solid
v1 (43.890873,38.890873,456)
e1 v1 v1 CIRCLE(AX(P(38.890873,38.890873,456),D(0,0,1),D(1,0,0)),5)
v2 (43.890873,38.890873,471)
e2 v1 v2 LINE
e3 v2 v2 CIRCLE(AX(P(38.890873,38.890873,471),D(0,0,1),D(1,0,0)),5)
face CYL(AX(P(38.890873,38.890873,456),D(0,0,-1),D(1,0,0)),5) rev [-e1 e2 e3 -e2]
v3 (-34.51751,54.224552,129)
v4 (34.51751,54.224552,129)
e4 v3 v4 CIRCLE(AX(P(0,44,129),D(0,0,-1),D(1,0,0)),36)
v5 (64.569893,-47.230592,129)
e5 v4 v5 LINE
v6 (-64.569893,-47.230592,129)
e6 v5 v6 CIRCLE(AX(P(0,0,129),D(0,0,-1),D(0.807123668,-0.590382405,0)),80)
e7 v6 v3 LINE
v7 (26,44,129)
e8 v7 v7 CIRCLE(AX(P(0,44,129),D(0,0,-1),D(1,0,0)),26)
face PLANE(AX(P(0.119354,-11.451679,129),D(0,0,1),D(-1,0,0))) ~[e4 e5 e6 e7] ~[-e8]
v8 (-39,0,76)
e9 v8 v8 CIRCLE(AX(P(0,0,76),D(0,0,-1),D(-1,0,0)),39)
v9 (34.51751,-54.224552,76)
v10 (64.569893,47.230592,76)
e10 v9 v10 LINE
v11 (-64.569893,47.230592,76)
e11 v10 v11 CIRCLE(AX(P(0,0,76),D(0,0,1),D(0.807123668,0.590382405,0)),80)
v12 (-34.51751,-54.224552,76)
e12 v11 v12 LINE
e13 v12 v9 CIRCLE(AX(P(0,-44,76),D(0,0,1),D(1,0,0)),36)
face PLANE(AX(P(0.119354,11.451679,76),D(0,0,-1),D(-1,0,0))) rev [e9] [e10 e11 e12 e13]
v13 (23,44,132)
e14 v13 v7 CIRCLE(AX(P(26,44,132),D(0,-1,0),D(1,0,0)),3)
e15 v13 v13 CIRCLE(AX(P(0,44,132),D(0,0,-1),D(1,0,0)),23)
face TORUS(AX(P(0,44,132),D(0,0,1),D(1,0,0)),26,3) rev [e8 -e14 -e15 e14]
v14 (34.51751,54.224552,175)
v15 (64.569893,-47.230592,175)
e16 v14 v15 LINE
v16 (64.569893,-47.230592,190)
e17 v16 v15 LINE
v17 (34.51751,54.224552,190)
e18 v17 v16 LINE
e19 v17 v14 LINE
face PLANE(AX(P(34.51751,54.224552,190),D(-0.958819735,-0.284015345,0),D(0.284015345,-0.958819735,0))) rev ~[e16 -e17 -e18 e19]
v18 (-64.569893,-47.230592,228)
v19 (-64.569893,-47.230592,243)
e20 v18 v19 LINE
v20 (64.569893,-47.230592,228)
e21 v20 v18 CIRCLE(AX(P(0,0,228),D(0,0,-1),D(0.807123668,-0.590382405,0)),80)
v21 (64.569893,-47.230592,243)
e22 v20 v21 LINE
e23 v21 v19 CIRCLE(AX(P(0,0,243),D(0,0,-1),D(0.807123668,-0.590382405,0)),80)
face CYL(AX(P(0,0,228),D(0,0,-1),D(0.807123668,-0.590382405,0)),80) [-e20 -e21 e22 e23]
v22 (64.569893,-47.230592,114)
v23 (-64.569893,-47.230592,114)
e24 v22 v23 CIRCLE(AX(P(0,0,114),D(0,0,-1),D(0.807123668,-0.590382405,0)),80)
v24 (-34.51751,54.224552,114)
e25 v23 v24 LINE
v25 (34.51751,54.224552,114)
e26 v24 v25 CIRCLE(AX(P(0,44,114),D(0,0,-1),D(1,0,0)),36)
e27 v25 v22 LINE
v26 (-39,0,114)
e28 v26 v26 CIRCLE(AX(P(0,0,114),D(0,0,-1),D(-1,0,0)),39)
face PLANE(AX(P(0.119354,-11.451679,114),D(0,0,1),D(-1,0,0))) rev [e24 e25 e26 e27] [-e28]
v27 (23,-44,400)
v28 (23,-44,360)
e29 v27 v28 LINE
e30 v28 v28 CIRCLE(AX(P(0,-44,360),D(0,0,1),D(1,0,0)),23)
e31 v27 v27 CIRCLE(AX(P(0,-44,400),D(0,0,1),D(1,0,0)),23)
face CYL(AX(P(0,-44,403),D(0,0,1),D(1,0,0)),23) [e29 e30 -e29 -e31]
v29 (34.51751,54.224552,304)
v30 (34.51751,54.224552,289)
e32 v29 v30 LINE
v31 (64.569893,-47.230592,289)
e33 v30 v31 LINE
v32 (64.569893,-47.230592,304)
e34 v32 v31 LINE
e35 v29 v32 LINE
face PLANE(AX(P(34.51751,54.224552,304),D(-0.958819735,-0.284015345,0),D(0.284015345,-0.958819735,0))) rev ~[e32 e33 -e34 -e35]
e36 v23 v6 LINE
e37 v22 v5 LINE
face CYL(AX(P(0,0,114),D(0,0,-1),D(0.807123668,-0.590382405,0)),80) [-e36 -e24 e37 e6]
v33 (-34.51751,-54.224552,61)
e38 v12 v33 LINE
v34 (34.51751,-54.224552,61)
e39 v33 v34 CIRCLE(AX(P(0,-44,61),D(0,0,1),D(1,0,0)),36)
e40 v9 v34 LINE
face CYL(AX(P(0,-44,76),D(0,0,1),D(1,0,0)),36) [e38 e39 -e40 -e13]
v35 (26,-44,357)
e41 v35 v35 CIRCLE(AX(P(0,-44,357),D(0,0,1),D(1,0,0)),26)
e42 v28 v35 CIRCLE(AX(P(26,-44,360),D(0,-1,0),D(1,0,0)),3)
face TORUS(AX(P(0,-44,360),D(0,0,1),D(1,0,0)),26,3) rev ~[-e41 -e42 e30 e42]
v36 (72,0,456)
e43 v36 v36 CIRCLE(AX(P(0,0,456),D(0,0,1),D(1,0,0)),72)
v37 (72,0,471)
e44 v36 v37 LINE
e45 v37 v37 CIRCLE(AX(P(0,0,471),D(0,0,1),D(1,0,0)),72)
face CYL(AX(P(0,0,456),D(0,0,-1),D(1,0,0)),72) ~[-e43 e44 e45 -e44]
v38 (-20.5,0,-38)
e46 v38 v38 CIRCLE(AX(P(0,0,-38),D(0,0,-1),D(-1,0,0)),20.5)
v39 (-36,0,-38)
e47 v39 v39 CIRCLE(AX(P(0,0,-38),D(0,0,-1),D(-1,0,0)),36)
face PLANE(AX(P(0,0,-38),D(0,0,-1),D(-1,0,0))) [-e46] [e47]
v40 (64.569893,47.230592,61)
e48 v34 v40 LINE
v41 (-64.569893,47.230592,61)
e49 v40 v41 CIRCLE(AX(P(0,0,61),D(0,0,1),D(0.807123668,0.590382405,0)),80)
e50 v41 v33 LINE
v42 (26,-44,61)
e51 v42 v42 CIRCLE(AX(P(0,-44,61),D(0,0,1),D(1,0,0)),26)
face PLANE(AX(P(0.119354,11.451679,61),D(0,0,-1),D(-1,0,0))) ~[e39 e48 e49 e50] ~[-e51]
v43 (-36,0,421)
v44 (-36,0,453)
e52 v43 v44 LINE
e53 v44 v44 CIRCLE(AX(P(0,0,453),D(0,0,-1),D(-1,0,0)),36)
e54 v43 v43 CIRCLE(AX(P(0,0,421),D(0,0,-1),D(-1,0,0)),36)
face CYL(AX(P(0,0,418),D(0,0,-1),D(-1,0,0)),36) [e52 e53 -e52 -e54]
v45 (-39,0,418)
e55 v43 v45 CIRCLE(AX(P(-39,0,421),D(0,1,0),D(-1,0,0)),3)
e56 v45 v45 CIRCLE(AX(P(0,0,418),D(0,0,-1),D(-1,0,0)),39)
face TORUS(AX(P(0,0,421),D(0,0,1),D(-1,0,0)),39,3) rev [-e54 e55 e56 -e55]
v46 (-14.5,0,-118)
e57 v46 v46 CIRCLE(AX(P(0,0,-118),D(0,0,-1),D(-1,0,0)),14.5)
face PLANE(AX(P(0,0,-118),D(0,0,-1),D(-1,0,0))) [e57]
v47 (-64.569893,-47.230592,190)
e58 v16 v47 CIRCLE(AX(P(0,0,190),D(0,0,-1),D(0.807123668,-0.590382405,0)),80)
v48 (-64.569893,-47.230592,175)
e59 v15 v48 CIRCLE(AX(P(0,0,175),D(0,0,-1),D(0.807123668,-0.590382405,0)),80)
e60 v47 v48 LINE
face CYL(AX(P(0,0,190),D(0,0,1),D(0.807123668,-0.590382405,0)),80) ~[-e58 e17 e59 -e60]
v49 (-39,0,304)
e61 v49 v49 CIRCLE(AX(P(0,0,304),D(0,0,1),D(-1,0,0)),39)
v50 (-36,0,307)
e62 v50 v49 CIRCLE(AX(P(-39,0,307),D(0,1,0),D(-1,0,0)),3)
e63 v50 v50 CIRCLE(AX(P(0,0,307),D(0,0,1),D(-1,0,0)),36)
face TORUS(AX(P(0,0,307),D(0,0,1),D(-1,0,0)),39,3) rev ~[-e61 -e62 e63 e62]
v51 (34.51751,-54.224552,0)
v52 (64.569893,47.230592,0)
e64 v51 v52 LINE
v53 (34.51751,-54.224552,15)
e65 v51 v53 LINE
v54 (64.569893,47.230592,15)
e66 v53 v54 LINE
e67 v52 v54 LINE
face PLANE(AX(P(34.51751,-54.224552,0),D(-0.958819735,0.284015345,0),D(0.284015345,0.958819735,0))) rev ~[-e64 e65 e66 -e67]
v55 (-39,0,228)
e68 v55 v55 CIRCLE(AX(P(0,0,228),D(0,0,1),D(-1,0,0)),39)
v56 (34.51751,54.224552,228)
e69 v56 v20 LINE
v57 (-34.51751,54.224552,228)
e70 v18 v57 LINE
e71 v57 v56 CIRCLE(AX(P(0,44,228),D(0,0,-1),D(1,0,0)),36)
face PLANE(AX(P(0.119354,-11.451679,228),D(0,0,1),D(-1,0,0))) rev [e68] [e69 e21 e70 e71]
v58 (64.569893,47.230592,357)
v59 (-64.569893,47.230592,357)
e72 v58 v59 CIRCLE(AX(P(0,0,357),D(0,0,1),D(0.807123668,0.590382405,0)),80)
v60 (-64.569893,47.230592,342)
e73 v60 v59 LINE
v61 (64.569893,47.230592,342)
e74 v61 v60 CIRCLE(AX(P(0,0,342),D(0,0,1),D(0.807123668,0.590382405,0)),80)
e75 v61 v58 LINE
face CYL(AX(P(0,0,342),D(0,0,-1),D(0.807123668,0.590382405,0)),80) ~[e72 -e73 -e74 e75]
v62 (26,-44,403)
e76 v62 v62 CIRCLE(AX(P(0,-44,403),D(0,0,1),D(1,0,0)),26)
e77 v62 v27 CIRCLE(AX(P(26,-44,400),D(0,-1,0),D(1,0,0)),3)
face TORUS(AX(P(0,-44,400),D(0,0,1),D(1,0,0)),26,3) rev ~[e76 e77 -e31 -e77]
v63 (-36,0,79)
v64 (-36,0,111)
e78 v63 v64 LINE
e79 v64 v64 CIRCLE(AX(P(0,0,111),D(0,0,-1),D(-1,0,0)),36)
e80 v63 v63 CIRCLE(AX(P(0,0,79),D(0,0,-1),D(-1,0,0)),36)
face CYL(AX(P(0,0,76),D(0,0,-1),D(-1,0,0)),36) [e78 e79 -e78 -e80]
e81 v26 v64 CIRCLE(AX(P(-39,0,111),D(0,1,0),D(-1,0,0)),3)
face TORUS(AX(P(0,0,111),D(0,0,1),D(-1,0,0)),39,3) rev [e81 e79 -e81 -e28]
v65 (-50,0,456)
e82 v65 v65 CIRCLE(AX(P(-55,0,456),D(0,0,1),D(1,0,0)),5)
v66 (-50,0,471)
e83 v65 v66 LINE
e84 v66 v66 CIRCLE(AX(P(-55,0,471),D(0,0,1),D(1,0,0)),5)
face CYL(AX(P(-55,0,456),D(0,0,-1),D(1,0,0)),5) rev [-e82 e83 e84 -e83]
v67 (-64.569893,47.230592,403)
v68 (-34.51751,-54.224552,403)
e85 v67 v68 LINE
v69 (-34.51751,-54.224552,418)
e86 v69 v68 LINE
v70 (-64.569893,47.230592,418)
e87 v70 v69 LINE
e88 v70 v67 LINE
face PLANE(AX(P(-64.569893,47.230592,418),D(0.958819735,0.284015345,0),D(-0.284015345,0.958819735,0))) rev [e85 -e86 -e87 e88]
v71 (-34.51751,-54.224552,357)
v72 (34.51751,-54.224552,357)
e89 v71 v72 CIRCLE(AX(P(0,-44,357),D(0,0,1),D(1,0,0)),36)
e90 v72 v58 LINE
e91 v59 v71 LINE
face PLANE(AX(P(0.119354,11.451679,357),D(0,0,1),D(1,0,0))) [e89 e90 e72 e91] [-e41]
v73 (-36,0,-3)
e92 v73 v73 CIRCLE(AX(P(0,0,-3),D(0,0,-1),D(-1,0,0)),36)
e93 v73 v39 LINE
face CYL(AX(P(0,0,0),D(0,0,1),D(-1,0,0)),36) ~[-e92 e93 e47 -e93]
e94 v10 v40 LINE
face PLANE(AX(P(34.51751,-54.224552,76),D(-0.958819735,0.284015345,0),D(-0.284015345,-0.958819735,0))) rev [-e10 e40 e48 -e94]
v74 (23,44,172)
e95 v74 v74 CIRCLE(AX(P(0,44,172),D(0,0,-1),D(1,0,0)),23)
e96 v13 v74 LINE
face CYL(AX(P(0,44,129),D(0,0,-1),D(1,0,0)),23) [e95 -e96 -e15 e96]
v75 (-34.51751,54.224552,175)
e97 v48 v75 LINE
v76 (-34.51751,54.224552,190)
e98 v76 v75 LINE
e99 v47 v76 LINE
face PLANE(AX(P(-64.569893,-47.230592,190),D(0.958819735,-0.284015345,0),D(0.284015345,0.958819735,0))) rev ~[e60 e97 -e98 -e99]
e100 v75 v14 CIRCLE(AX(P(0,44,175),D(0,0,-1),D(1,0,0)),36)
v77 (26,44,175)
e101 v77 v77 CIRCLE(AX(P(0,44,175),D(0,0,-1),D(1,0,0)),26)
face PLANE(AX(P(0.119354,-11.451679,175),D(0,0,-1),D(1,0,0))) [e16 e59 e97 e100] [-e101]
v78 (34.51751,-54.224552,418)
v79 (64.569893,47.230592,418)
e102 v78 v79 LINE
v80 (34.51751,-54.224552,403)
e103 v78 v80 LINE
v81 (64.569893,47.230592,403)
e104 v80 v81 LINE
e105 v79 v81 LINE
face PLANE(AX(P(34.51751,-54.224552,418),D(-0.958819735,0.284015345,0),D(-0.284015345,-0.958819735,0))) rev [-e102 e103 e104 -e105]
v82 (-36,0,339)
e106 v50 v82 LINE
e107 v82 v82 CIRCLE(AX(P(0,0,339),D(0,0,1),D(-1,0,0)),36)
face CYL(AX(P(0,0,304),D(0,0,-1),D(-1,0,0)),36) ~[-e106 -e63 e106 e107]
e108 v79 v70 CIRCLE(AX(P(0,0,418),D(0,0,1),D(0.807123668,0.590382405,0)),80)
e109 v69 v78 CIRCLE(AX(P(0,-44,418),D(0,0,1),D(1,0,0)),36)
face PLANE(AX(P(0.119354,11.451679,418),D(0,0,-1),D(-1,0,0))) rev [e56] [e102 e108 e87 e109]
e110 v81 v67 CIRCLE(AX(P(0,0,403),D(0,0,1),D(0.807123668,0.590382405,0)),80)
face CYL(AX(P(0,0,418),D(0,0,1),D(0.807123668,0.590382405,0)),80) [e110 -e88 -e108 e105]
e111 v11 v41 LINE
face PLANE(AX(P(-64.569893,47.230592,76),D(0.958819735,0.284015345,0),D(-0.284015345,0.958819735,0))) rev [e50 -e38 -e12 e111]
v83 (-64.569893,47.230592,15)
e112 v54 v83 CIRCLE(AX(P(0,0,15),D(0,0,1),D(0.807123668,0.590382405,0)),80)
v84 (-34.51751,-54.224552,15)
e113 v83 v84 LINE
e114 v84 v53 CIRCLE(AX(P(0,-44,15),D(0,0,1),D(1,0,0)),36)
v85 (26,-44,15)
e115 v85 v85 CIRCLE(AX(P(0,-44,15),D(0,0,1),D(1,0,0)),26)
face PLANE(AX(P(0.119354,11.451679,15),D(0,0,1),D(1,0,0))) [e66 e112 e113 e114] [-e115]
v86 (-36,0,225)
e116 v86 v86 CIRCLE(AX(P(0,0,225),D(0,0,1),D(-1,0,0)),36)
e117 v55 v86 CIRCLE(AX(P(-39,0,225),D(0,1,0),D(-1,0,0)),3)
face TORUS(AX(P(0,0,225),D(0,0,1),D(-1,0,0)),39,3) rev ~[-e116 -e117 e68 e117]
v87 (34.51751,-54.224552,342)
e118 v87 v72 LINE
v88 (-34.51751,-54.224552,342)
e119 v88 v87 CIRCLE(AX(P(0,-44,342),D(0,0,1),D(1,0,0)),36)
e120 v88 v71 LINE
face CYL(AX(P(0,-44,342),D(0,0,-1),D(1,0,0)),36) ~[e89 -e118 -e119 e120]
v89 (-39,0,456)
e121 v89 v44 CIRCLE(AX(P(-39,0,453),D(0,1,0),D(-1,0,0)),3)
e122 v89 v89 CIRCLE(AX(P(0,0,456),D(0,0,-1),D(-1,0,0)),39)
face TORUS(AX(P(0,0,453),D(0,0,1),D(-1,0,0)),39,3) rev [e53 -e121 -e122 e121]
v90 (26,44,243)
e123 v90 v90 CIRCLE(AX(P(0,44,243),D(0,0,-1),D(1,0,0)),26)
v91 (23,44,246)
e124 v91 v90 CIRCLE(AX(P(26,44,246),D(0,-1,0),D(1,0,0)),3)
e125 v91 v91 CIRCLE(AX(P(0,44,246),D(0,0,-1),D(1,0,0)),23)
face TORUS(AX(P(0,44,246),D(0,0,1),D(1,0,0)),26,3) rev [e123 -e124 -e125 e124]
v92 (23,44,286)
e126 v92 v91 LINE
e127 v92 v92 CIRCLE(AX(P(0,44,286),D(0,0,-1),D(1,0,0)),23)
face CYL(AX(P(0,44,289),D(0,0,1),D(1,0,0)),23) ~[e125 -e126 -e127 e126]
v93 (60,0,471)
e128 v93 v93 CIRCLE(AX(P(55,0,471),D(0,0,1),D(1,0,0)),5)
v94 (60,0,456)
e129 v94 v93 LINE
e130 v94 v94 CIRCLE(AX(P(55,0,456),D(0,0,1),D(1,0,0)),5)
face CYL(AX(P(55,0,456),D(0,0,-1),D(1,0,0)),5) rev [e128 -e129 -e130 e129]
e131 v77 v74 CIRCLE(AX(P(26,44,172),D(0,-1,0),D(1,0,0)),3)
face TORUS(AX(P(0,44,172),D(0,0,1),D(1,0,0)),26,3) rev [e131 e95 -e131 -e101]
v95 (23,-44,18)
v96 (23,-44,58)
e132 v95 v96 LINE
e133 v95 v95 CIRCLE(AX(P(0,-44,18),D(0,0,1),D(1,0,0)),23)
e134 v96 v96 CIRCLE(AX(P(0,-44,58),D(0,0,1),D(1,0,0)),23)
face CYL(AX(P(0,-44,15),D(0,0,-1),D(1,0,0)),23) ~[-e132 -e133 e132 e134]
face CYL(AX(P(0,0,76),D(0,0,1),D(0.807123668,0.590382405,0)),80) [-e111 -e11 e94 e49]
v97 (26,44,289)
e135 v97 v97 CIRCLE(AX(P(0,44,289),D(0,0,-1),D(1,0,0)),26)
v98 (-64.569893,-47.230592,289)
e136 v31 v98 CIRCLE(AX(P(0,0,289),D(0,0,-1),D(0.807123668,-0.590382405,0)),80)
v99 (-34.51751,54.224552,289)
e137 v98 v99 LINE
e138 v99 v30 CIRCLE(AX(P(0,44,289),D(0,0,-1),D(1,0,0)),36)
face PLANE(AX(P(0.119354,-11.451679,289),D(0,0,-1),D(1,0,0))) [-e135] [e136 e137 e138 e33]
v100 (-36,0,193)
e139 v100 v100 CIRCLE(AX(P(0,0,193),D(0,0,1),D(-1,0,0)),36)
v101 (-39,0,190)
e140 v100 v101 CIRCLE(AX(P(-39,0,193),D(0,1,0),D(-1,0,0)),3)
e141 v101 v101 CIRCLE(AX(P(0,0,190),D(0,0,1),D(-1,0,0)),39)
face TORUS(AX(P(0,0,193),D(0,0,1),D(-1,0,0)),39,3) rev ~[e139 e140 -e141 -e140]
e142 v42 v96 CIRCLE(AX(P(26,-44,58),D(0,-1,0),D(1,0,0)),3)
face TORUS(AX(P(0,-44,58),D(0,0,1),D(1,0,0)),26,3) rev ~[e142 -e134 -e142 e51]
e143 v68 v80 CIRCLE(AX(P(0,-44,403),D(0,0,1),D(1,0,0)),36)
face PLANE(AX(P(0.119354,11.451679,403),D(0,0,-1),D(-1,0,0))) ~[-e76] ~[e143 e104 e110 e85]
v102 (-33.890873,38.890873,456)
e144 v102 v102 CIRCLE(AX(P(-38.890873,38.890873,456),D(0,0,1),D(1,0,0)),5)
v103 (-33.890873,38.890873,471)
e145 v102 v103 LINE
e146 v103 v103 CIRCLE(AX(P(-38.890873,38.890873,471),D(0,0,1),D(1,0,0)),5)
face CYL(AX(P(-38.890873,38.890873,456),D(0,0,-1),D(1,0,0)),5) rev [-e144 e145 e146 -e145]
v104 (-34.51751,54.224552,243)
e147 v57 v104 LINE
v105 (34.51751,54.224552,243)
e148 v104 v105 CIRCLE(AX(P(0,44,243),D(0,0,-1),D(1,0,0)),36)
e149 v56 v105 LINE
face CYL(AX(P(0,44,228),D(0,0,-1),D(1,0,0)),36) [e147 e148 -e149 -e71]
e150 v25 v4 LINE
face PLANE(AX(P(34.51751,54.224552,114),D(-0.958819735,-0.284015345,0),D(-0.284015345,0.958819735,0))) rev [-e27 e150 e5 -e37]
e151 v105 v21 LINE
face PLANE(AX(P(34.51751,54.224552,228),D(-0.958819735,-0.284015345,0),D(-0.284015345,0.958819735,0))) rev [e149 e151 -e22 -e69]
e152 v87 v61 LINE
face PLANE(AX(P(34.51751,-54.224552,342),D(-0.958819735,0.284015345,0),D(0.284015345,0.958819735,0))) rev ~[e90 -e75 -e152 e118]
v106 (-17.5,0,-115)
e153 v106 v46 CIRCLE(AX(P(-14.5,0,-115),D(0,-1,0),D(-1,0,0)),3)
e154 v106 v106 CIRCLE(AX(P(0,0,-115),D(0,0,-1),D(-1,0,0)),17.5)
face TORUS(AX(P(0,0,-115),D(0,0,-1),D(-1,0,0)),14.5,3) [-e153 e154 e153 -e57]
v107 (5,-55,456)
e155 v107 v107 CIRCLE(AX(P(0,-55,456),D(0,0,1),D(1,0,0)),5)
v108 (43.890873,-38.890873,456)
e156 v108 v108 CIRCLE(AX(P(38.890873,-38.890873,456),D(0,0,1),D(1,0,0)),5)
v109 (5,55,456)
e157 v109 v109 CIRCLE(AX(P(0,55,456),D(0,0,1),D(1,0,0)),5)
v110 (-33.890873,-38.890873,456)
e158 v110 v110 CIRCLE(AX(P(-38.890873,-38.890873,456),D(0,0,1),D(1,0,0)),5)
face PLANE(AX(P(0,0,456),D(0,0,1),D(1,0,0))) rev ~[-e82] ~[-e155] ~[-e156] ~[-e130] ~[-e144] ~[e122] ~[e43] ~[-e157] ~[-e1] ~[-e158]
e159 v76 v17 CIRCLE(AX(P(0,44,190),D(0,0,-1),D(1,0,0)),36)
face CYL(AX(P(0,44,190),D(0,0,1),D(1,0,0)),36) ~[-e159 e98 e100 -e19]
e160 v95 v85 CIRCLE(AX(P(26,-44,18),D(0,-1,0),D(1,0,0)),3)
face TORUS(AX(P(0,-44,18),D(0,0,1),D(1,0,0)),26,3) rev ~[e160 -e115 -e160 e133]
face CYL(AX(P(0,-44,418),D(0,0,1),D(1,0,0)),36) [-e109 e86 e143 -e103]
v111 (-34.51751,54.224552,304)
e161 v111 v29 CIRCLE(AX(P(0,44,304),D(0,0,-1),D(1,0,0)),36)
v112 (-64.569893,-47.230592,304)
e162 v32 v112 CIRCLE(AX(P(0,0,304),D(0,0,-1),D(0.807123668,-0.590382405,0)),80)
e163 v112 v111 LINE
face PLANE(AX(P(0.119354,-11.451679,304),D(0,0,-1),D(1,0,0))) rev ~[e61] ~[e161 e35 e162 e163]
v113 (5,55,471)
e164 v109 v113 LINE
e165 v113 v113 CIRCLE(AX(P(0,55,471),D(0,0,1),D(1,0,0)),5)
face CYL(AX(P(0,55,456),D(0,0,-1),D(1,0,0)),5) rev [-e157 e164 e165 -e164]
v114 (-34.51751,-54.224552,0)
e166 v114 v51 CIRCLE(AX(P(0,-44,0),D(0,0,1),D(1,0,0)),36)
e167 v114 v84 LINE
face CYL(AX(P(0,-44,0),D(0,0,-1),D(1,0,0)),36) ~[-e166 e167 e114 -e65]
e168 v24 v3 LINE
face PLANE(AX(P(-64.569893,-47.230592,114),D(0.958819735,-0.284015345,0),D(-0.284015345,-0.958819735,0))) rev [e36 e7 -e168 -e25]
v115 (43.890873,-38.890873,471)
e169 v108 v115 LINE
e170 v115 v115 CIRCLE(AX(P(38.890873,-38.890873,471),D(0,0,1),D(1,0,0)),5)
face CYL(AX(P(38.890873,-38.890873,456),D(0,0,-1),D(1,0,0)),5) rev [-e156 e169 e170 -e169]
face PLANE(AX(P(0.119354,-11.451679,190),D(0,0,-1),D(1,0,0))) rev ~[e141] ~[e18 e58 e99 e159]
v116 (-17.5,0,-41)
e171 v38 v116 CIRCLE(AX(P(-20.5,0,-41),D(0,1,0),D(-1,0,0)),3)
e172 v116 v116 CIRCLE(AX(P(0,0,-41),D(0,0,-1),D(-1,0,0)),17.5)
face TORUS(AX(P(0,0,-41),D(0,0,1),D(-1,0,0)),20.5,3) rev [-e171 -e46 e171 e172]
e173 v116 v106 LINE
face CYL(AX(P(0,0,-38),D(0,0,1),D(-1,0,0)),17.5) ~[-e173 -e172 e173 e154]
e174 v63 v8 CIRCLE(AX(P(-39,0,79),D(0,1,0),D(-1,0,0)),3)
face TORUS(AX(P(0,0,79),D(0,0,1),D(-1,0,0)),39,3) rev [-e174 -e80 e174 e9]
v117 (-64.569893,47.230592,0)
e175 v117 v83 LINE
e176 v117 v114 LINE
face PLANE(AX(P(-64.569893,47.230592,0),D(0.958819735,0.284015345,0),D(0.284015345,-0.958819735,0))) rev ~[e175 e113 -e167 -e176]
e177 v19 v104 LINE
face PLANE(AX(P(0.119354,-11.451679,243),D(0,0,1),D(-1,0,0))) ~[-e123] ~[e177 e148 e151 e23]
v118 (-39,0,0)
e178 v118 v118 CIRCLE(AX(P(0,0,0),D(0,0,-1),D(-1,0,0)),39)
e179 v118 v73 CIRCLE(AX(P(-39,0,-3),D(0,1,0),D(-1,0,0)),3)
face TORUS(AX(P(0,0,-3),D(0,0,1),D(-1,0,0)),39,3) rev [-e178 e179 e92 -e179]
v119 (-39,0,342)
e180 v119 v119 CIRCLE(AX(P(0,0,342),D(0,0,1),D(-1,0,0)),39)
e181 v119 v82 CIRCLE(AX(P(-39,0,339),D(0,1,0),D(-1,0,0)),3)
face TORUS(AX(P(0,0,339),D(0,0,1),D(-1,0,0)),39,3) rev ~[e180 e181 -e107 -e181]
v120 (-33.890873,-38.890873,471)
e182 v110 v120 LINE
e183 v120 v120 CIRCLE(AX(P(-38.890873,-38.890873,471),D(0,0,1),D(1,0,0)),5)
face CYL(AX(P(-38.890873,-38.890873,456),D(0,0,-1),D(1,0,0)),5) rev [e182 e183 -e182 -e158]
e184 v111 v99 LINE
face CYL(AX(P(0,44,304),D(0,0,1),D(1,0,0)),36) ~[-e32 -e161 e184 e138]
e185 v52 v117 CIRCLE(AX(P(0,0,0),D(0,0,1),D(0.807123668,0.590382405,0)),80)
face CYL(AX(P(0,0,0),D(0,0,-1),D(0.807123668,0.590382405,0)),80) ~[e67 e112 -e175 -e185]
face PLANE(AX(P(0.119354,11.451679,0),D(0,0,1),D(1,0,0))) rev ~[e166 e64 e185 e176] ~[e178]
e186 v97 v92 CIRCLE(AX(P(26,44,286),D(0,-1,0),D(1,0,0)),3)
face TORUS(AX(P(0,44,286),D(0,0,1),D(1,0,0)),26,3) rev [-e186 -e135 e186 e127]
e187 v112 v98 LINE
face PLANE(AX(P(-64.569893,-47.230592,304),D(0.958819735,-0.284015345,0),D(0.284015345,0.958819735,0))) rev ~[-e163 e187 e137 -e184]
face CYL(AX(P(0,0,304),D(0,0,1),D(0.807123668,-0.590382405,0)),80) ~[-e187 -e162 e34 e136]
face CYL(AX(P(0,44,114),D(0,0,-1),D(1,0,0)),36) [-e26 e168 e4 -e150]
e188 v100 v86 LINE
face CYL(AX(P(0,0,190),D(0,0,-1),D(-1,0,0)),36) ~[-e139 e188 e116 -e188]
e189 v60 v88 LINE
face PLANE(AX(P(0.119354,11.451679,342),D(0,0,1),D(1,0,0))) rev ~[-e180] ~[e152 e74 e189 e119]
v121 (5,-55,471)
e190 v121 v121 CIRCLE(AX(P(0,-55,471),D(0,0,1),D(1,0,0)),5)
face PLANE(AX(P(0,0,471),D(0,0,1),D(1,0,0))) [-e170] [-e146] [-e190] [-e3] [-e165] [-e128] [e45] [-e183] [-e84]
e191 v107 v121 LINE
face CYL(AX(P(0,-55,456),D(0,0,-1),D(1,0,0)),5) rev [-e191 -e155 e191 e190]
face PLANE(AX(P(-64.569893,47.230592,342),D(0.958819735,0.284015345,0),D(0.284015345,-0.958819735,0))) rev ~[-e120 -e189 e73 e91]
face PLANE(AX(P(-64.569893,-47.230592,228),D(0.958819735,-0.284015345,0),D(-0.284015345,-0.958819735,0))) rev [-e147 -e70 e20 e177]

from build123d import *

# Parameters (mm, degrees)
SKETCH1_R             = 36
BOSS_EXTRUDE1_DEPTH   = 15
SKETCH2_R             = 23
BOSS_EXTRUDE2_DEPTH   = 46
SKETCH3_R             = 36
BOSS_EXTRUDE3_DEPTH   = 38
BODY_MOVE_COPY1_ANGLE = 180
SKETCH4_R             = 17.5
BOSS_EXTRUDE4_DEPTH   = 80
SKETCH5_R             = 72
SKETCH5_R_2           = 5
BOSS_EXTRUDE5_DEPTH   = 15
FILLET1_R             = 3


with BuildPart() as part:
    # Sketch1 → Boss-Extrude1 (new body)
    with BuildSketch(Plane.XY):
        with BuildLine():
            ThreePointArc((64.569893475, 47.23059238), (0, 80), (-64.569893475, 47.23059238))
            Line((-64.569893475, 47.23059238), (-34.517510455, -54.224552409))
            ThreePointArc((-34.517510455, -54.224552409), (-5.165734392, -8.372550074), (36, -44))
            ThreePointArc((36, -44), (35.627449926, -49.165734392), (34.517510455, -54.224552409))
            Line((34.517510455, -54.224552409), (64.569893475, 47.23059238))
        make_face()
        with Locations((0, -44)):
            Circle(SKETCH1_R)
    boss_extrude1 = extrude(amount=BOSS_EXTRUDE1_DEPTH)

    # Sketch2 → Boss-Extrude2 (add)
    with BuildSketch(Plane.XY.offset(15)):
        with Locations((0, -44)):
            Circle(SKETCH2_R)
    extrude(amount=BOSS_EXTRUDE2_DEPTH)

    # Sketch3 → Boss-Extrude3 (add)
    with BuildSketch(Plane(origin=(0, 0, 0), x_dir=(-1, 0, 0), z_dir=(0, 0, -1))):
        Circle(SKETCH3_R)
    boss_extrude3 = extrude(amount=BOSS_EXTRUDE3_DEPTH)

    # Mirror1: Boss-Extrude1, Boss-Extrude3 across plane
    add(boss_extrude1.mirror(Plane.XY.offset(38)))
    add(boss_extrude3.mirror(Plane.XY.offset(38)))


with BuildPart() as body_2:
    # Mirror2: mirrored copy
    add(part.part.mirror(Plane.XY.offset(95)))


with BuildPart() as body_2_1:
    # Body-Move/Copy1: moved
    add(body_2.part.rotate(Axis((0, 0, 152), (1, 0, 0)), BODY_MOVE_COPY1_ANGLE))


with BuildPart() as body_3:
    # Mirror3: mirrored copy
    add(body_2_1.part.mirror(Plane.XY.offset(209)))


with BuildPart() as body_4:
    # Mirror3 2: mirrored copy
    add(part.part.mirror(Plane.XY.offset(209)))

    # Sketch5 → Boss-Extrude5 (add)
    with BuildSketch(Plane.XY.offset(456)):
        Circle(SKETCH5_R)
        with Locations((0, 55)):
            Circle(SKETCH5_R_2, mode=Mode.SUBTRACT)
        with Locations((38.890872965, 38.890872965)):
            Circle(SKETCH5_R_2, mode=Mode.SUBTRACT)
        with Locations((55, 0)):
            Circle(SKETCH5_R_2, mode=Mode.SUBTRACT)
        with Locations((38.890872965, -38.890872965)):
            Circle(SKETCH5_R_2, mode=Mode.SUBTRACT)
        with Locations((0, -55)):
            Circle(SKETCH5_R_2, mode=Mode.SUBTRACT)
        with Locations((-38.890872965, -38.890872965)):
            Circle(SKETCH5_R_2, mode=Mode.SUBTRACT)
        with Locations((-55, 0)):
            Circle(SKETCH5_R_2, mode=Mode.SUBTRACT)
        with Locations((-38.890872965, 38.890872965)):
            Circle(SKETCH5_R_2, mode=Mode.SUBTRACT)
    extrude(amount=BOSS_EXTRUDE5_DEPTH)


with BuildPart() as part_1:
    add(part.part)

    # Sketch4 → Boss-Extrude4 (add)
    with BuildSketch(Plane(origin=(0, 0, -38), x_dir=(-1, 0, 0), z_dir=(0, 0, -1))):
        Circle(SKETCH4_R)
    extrude(amount=BOSS_EXTRUDE4_DEPTH)

    # Combine1: union body 2, body 3, body 4
    add(body_2_1.part)
    add(body_3.part)
    add(body_4.part)

    # Fillet1
    fillet1_edges = [part_1.edges().sort_by_distance(p)[0] for p in [
        (-23, -44, 15),
        (-23, -44, 61),
        (36, 0, 0),
        (36, 0, 76),
        (17.5, 0, -38),
        (17.5, 0, -118),
        (-23, 44, 129),
        (36, 0, 114),
        (-23, 44, 175),
        (36, 0, 190),
        (-23, 44, 289),
        (36, 0, 304),
        (-23, 44, 243),
        (36, 0, 228),
        (-23, -44, 403),
        (36, 0, 418),
        (-23, -44, 357),
        (36, 0, 456),
        (36, 0, 342),
    ]]
    fillet(fillet1_edges, radius=FILLET1_R)


solid = part_1.part
